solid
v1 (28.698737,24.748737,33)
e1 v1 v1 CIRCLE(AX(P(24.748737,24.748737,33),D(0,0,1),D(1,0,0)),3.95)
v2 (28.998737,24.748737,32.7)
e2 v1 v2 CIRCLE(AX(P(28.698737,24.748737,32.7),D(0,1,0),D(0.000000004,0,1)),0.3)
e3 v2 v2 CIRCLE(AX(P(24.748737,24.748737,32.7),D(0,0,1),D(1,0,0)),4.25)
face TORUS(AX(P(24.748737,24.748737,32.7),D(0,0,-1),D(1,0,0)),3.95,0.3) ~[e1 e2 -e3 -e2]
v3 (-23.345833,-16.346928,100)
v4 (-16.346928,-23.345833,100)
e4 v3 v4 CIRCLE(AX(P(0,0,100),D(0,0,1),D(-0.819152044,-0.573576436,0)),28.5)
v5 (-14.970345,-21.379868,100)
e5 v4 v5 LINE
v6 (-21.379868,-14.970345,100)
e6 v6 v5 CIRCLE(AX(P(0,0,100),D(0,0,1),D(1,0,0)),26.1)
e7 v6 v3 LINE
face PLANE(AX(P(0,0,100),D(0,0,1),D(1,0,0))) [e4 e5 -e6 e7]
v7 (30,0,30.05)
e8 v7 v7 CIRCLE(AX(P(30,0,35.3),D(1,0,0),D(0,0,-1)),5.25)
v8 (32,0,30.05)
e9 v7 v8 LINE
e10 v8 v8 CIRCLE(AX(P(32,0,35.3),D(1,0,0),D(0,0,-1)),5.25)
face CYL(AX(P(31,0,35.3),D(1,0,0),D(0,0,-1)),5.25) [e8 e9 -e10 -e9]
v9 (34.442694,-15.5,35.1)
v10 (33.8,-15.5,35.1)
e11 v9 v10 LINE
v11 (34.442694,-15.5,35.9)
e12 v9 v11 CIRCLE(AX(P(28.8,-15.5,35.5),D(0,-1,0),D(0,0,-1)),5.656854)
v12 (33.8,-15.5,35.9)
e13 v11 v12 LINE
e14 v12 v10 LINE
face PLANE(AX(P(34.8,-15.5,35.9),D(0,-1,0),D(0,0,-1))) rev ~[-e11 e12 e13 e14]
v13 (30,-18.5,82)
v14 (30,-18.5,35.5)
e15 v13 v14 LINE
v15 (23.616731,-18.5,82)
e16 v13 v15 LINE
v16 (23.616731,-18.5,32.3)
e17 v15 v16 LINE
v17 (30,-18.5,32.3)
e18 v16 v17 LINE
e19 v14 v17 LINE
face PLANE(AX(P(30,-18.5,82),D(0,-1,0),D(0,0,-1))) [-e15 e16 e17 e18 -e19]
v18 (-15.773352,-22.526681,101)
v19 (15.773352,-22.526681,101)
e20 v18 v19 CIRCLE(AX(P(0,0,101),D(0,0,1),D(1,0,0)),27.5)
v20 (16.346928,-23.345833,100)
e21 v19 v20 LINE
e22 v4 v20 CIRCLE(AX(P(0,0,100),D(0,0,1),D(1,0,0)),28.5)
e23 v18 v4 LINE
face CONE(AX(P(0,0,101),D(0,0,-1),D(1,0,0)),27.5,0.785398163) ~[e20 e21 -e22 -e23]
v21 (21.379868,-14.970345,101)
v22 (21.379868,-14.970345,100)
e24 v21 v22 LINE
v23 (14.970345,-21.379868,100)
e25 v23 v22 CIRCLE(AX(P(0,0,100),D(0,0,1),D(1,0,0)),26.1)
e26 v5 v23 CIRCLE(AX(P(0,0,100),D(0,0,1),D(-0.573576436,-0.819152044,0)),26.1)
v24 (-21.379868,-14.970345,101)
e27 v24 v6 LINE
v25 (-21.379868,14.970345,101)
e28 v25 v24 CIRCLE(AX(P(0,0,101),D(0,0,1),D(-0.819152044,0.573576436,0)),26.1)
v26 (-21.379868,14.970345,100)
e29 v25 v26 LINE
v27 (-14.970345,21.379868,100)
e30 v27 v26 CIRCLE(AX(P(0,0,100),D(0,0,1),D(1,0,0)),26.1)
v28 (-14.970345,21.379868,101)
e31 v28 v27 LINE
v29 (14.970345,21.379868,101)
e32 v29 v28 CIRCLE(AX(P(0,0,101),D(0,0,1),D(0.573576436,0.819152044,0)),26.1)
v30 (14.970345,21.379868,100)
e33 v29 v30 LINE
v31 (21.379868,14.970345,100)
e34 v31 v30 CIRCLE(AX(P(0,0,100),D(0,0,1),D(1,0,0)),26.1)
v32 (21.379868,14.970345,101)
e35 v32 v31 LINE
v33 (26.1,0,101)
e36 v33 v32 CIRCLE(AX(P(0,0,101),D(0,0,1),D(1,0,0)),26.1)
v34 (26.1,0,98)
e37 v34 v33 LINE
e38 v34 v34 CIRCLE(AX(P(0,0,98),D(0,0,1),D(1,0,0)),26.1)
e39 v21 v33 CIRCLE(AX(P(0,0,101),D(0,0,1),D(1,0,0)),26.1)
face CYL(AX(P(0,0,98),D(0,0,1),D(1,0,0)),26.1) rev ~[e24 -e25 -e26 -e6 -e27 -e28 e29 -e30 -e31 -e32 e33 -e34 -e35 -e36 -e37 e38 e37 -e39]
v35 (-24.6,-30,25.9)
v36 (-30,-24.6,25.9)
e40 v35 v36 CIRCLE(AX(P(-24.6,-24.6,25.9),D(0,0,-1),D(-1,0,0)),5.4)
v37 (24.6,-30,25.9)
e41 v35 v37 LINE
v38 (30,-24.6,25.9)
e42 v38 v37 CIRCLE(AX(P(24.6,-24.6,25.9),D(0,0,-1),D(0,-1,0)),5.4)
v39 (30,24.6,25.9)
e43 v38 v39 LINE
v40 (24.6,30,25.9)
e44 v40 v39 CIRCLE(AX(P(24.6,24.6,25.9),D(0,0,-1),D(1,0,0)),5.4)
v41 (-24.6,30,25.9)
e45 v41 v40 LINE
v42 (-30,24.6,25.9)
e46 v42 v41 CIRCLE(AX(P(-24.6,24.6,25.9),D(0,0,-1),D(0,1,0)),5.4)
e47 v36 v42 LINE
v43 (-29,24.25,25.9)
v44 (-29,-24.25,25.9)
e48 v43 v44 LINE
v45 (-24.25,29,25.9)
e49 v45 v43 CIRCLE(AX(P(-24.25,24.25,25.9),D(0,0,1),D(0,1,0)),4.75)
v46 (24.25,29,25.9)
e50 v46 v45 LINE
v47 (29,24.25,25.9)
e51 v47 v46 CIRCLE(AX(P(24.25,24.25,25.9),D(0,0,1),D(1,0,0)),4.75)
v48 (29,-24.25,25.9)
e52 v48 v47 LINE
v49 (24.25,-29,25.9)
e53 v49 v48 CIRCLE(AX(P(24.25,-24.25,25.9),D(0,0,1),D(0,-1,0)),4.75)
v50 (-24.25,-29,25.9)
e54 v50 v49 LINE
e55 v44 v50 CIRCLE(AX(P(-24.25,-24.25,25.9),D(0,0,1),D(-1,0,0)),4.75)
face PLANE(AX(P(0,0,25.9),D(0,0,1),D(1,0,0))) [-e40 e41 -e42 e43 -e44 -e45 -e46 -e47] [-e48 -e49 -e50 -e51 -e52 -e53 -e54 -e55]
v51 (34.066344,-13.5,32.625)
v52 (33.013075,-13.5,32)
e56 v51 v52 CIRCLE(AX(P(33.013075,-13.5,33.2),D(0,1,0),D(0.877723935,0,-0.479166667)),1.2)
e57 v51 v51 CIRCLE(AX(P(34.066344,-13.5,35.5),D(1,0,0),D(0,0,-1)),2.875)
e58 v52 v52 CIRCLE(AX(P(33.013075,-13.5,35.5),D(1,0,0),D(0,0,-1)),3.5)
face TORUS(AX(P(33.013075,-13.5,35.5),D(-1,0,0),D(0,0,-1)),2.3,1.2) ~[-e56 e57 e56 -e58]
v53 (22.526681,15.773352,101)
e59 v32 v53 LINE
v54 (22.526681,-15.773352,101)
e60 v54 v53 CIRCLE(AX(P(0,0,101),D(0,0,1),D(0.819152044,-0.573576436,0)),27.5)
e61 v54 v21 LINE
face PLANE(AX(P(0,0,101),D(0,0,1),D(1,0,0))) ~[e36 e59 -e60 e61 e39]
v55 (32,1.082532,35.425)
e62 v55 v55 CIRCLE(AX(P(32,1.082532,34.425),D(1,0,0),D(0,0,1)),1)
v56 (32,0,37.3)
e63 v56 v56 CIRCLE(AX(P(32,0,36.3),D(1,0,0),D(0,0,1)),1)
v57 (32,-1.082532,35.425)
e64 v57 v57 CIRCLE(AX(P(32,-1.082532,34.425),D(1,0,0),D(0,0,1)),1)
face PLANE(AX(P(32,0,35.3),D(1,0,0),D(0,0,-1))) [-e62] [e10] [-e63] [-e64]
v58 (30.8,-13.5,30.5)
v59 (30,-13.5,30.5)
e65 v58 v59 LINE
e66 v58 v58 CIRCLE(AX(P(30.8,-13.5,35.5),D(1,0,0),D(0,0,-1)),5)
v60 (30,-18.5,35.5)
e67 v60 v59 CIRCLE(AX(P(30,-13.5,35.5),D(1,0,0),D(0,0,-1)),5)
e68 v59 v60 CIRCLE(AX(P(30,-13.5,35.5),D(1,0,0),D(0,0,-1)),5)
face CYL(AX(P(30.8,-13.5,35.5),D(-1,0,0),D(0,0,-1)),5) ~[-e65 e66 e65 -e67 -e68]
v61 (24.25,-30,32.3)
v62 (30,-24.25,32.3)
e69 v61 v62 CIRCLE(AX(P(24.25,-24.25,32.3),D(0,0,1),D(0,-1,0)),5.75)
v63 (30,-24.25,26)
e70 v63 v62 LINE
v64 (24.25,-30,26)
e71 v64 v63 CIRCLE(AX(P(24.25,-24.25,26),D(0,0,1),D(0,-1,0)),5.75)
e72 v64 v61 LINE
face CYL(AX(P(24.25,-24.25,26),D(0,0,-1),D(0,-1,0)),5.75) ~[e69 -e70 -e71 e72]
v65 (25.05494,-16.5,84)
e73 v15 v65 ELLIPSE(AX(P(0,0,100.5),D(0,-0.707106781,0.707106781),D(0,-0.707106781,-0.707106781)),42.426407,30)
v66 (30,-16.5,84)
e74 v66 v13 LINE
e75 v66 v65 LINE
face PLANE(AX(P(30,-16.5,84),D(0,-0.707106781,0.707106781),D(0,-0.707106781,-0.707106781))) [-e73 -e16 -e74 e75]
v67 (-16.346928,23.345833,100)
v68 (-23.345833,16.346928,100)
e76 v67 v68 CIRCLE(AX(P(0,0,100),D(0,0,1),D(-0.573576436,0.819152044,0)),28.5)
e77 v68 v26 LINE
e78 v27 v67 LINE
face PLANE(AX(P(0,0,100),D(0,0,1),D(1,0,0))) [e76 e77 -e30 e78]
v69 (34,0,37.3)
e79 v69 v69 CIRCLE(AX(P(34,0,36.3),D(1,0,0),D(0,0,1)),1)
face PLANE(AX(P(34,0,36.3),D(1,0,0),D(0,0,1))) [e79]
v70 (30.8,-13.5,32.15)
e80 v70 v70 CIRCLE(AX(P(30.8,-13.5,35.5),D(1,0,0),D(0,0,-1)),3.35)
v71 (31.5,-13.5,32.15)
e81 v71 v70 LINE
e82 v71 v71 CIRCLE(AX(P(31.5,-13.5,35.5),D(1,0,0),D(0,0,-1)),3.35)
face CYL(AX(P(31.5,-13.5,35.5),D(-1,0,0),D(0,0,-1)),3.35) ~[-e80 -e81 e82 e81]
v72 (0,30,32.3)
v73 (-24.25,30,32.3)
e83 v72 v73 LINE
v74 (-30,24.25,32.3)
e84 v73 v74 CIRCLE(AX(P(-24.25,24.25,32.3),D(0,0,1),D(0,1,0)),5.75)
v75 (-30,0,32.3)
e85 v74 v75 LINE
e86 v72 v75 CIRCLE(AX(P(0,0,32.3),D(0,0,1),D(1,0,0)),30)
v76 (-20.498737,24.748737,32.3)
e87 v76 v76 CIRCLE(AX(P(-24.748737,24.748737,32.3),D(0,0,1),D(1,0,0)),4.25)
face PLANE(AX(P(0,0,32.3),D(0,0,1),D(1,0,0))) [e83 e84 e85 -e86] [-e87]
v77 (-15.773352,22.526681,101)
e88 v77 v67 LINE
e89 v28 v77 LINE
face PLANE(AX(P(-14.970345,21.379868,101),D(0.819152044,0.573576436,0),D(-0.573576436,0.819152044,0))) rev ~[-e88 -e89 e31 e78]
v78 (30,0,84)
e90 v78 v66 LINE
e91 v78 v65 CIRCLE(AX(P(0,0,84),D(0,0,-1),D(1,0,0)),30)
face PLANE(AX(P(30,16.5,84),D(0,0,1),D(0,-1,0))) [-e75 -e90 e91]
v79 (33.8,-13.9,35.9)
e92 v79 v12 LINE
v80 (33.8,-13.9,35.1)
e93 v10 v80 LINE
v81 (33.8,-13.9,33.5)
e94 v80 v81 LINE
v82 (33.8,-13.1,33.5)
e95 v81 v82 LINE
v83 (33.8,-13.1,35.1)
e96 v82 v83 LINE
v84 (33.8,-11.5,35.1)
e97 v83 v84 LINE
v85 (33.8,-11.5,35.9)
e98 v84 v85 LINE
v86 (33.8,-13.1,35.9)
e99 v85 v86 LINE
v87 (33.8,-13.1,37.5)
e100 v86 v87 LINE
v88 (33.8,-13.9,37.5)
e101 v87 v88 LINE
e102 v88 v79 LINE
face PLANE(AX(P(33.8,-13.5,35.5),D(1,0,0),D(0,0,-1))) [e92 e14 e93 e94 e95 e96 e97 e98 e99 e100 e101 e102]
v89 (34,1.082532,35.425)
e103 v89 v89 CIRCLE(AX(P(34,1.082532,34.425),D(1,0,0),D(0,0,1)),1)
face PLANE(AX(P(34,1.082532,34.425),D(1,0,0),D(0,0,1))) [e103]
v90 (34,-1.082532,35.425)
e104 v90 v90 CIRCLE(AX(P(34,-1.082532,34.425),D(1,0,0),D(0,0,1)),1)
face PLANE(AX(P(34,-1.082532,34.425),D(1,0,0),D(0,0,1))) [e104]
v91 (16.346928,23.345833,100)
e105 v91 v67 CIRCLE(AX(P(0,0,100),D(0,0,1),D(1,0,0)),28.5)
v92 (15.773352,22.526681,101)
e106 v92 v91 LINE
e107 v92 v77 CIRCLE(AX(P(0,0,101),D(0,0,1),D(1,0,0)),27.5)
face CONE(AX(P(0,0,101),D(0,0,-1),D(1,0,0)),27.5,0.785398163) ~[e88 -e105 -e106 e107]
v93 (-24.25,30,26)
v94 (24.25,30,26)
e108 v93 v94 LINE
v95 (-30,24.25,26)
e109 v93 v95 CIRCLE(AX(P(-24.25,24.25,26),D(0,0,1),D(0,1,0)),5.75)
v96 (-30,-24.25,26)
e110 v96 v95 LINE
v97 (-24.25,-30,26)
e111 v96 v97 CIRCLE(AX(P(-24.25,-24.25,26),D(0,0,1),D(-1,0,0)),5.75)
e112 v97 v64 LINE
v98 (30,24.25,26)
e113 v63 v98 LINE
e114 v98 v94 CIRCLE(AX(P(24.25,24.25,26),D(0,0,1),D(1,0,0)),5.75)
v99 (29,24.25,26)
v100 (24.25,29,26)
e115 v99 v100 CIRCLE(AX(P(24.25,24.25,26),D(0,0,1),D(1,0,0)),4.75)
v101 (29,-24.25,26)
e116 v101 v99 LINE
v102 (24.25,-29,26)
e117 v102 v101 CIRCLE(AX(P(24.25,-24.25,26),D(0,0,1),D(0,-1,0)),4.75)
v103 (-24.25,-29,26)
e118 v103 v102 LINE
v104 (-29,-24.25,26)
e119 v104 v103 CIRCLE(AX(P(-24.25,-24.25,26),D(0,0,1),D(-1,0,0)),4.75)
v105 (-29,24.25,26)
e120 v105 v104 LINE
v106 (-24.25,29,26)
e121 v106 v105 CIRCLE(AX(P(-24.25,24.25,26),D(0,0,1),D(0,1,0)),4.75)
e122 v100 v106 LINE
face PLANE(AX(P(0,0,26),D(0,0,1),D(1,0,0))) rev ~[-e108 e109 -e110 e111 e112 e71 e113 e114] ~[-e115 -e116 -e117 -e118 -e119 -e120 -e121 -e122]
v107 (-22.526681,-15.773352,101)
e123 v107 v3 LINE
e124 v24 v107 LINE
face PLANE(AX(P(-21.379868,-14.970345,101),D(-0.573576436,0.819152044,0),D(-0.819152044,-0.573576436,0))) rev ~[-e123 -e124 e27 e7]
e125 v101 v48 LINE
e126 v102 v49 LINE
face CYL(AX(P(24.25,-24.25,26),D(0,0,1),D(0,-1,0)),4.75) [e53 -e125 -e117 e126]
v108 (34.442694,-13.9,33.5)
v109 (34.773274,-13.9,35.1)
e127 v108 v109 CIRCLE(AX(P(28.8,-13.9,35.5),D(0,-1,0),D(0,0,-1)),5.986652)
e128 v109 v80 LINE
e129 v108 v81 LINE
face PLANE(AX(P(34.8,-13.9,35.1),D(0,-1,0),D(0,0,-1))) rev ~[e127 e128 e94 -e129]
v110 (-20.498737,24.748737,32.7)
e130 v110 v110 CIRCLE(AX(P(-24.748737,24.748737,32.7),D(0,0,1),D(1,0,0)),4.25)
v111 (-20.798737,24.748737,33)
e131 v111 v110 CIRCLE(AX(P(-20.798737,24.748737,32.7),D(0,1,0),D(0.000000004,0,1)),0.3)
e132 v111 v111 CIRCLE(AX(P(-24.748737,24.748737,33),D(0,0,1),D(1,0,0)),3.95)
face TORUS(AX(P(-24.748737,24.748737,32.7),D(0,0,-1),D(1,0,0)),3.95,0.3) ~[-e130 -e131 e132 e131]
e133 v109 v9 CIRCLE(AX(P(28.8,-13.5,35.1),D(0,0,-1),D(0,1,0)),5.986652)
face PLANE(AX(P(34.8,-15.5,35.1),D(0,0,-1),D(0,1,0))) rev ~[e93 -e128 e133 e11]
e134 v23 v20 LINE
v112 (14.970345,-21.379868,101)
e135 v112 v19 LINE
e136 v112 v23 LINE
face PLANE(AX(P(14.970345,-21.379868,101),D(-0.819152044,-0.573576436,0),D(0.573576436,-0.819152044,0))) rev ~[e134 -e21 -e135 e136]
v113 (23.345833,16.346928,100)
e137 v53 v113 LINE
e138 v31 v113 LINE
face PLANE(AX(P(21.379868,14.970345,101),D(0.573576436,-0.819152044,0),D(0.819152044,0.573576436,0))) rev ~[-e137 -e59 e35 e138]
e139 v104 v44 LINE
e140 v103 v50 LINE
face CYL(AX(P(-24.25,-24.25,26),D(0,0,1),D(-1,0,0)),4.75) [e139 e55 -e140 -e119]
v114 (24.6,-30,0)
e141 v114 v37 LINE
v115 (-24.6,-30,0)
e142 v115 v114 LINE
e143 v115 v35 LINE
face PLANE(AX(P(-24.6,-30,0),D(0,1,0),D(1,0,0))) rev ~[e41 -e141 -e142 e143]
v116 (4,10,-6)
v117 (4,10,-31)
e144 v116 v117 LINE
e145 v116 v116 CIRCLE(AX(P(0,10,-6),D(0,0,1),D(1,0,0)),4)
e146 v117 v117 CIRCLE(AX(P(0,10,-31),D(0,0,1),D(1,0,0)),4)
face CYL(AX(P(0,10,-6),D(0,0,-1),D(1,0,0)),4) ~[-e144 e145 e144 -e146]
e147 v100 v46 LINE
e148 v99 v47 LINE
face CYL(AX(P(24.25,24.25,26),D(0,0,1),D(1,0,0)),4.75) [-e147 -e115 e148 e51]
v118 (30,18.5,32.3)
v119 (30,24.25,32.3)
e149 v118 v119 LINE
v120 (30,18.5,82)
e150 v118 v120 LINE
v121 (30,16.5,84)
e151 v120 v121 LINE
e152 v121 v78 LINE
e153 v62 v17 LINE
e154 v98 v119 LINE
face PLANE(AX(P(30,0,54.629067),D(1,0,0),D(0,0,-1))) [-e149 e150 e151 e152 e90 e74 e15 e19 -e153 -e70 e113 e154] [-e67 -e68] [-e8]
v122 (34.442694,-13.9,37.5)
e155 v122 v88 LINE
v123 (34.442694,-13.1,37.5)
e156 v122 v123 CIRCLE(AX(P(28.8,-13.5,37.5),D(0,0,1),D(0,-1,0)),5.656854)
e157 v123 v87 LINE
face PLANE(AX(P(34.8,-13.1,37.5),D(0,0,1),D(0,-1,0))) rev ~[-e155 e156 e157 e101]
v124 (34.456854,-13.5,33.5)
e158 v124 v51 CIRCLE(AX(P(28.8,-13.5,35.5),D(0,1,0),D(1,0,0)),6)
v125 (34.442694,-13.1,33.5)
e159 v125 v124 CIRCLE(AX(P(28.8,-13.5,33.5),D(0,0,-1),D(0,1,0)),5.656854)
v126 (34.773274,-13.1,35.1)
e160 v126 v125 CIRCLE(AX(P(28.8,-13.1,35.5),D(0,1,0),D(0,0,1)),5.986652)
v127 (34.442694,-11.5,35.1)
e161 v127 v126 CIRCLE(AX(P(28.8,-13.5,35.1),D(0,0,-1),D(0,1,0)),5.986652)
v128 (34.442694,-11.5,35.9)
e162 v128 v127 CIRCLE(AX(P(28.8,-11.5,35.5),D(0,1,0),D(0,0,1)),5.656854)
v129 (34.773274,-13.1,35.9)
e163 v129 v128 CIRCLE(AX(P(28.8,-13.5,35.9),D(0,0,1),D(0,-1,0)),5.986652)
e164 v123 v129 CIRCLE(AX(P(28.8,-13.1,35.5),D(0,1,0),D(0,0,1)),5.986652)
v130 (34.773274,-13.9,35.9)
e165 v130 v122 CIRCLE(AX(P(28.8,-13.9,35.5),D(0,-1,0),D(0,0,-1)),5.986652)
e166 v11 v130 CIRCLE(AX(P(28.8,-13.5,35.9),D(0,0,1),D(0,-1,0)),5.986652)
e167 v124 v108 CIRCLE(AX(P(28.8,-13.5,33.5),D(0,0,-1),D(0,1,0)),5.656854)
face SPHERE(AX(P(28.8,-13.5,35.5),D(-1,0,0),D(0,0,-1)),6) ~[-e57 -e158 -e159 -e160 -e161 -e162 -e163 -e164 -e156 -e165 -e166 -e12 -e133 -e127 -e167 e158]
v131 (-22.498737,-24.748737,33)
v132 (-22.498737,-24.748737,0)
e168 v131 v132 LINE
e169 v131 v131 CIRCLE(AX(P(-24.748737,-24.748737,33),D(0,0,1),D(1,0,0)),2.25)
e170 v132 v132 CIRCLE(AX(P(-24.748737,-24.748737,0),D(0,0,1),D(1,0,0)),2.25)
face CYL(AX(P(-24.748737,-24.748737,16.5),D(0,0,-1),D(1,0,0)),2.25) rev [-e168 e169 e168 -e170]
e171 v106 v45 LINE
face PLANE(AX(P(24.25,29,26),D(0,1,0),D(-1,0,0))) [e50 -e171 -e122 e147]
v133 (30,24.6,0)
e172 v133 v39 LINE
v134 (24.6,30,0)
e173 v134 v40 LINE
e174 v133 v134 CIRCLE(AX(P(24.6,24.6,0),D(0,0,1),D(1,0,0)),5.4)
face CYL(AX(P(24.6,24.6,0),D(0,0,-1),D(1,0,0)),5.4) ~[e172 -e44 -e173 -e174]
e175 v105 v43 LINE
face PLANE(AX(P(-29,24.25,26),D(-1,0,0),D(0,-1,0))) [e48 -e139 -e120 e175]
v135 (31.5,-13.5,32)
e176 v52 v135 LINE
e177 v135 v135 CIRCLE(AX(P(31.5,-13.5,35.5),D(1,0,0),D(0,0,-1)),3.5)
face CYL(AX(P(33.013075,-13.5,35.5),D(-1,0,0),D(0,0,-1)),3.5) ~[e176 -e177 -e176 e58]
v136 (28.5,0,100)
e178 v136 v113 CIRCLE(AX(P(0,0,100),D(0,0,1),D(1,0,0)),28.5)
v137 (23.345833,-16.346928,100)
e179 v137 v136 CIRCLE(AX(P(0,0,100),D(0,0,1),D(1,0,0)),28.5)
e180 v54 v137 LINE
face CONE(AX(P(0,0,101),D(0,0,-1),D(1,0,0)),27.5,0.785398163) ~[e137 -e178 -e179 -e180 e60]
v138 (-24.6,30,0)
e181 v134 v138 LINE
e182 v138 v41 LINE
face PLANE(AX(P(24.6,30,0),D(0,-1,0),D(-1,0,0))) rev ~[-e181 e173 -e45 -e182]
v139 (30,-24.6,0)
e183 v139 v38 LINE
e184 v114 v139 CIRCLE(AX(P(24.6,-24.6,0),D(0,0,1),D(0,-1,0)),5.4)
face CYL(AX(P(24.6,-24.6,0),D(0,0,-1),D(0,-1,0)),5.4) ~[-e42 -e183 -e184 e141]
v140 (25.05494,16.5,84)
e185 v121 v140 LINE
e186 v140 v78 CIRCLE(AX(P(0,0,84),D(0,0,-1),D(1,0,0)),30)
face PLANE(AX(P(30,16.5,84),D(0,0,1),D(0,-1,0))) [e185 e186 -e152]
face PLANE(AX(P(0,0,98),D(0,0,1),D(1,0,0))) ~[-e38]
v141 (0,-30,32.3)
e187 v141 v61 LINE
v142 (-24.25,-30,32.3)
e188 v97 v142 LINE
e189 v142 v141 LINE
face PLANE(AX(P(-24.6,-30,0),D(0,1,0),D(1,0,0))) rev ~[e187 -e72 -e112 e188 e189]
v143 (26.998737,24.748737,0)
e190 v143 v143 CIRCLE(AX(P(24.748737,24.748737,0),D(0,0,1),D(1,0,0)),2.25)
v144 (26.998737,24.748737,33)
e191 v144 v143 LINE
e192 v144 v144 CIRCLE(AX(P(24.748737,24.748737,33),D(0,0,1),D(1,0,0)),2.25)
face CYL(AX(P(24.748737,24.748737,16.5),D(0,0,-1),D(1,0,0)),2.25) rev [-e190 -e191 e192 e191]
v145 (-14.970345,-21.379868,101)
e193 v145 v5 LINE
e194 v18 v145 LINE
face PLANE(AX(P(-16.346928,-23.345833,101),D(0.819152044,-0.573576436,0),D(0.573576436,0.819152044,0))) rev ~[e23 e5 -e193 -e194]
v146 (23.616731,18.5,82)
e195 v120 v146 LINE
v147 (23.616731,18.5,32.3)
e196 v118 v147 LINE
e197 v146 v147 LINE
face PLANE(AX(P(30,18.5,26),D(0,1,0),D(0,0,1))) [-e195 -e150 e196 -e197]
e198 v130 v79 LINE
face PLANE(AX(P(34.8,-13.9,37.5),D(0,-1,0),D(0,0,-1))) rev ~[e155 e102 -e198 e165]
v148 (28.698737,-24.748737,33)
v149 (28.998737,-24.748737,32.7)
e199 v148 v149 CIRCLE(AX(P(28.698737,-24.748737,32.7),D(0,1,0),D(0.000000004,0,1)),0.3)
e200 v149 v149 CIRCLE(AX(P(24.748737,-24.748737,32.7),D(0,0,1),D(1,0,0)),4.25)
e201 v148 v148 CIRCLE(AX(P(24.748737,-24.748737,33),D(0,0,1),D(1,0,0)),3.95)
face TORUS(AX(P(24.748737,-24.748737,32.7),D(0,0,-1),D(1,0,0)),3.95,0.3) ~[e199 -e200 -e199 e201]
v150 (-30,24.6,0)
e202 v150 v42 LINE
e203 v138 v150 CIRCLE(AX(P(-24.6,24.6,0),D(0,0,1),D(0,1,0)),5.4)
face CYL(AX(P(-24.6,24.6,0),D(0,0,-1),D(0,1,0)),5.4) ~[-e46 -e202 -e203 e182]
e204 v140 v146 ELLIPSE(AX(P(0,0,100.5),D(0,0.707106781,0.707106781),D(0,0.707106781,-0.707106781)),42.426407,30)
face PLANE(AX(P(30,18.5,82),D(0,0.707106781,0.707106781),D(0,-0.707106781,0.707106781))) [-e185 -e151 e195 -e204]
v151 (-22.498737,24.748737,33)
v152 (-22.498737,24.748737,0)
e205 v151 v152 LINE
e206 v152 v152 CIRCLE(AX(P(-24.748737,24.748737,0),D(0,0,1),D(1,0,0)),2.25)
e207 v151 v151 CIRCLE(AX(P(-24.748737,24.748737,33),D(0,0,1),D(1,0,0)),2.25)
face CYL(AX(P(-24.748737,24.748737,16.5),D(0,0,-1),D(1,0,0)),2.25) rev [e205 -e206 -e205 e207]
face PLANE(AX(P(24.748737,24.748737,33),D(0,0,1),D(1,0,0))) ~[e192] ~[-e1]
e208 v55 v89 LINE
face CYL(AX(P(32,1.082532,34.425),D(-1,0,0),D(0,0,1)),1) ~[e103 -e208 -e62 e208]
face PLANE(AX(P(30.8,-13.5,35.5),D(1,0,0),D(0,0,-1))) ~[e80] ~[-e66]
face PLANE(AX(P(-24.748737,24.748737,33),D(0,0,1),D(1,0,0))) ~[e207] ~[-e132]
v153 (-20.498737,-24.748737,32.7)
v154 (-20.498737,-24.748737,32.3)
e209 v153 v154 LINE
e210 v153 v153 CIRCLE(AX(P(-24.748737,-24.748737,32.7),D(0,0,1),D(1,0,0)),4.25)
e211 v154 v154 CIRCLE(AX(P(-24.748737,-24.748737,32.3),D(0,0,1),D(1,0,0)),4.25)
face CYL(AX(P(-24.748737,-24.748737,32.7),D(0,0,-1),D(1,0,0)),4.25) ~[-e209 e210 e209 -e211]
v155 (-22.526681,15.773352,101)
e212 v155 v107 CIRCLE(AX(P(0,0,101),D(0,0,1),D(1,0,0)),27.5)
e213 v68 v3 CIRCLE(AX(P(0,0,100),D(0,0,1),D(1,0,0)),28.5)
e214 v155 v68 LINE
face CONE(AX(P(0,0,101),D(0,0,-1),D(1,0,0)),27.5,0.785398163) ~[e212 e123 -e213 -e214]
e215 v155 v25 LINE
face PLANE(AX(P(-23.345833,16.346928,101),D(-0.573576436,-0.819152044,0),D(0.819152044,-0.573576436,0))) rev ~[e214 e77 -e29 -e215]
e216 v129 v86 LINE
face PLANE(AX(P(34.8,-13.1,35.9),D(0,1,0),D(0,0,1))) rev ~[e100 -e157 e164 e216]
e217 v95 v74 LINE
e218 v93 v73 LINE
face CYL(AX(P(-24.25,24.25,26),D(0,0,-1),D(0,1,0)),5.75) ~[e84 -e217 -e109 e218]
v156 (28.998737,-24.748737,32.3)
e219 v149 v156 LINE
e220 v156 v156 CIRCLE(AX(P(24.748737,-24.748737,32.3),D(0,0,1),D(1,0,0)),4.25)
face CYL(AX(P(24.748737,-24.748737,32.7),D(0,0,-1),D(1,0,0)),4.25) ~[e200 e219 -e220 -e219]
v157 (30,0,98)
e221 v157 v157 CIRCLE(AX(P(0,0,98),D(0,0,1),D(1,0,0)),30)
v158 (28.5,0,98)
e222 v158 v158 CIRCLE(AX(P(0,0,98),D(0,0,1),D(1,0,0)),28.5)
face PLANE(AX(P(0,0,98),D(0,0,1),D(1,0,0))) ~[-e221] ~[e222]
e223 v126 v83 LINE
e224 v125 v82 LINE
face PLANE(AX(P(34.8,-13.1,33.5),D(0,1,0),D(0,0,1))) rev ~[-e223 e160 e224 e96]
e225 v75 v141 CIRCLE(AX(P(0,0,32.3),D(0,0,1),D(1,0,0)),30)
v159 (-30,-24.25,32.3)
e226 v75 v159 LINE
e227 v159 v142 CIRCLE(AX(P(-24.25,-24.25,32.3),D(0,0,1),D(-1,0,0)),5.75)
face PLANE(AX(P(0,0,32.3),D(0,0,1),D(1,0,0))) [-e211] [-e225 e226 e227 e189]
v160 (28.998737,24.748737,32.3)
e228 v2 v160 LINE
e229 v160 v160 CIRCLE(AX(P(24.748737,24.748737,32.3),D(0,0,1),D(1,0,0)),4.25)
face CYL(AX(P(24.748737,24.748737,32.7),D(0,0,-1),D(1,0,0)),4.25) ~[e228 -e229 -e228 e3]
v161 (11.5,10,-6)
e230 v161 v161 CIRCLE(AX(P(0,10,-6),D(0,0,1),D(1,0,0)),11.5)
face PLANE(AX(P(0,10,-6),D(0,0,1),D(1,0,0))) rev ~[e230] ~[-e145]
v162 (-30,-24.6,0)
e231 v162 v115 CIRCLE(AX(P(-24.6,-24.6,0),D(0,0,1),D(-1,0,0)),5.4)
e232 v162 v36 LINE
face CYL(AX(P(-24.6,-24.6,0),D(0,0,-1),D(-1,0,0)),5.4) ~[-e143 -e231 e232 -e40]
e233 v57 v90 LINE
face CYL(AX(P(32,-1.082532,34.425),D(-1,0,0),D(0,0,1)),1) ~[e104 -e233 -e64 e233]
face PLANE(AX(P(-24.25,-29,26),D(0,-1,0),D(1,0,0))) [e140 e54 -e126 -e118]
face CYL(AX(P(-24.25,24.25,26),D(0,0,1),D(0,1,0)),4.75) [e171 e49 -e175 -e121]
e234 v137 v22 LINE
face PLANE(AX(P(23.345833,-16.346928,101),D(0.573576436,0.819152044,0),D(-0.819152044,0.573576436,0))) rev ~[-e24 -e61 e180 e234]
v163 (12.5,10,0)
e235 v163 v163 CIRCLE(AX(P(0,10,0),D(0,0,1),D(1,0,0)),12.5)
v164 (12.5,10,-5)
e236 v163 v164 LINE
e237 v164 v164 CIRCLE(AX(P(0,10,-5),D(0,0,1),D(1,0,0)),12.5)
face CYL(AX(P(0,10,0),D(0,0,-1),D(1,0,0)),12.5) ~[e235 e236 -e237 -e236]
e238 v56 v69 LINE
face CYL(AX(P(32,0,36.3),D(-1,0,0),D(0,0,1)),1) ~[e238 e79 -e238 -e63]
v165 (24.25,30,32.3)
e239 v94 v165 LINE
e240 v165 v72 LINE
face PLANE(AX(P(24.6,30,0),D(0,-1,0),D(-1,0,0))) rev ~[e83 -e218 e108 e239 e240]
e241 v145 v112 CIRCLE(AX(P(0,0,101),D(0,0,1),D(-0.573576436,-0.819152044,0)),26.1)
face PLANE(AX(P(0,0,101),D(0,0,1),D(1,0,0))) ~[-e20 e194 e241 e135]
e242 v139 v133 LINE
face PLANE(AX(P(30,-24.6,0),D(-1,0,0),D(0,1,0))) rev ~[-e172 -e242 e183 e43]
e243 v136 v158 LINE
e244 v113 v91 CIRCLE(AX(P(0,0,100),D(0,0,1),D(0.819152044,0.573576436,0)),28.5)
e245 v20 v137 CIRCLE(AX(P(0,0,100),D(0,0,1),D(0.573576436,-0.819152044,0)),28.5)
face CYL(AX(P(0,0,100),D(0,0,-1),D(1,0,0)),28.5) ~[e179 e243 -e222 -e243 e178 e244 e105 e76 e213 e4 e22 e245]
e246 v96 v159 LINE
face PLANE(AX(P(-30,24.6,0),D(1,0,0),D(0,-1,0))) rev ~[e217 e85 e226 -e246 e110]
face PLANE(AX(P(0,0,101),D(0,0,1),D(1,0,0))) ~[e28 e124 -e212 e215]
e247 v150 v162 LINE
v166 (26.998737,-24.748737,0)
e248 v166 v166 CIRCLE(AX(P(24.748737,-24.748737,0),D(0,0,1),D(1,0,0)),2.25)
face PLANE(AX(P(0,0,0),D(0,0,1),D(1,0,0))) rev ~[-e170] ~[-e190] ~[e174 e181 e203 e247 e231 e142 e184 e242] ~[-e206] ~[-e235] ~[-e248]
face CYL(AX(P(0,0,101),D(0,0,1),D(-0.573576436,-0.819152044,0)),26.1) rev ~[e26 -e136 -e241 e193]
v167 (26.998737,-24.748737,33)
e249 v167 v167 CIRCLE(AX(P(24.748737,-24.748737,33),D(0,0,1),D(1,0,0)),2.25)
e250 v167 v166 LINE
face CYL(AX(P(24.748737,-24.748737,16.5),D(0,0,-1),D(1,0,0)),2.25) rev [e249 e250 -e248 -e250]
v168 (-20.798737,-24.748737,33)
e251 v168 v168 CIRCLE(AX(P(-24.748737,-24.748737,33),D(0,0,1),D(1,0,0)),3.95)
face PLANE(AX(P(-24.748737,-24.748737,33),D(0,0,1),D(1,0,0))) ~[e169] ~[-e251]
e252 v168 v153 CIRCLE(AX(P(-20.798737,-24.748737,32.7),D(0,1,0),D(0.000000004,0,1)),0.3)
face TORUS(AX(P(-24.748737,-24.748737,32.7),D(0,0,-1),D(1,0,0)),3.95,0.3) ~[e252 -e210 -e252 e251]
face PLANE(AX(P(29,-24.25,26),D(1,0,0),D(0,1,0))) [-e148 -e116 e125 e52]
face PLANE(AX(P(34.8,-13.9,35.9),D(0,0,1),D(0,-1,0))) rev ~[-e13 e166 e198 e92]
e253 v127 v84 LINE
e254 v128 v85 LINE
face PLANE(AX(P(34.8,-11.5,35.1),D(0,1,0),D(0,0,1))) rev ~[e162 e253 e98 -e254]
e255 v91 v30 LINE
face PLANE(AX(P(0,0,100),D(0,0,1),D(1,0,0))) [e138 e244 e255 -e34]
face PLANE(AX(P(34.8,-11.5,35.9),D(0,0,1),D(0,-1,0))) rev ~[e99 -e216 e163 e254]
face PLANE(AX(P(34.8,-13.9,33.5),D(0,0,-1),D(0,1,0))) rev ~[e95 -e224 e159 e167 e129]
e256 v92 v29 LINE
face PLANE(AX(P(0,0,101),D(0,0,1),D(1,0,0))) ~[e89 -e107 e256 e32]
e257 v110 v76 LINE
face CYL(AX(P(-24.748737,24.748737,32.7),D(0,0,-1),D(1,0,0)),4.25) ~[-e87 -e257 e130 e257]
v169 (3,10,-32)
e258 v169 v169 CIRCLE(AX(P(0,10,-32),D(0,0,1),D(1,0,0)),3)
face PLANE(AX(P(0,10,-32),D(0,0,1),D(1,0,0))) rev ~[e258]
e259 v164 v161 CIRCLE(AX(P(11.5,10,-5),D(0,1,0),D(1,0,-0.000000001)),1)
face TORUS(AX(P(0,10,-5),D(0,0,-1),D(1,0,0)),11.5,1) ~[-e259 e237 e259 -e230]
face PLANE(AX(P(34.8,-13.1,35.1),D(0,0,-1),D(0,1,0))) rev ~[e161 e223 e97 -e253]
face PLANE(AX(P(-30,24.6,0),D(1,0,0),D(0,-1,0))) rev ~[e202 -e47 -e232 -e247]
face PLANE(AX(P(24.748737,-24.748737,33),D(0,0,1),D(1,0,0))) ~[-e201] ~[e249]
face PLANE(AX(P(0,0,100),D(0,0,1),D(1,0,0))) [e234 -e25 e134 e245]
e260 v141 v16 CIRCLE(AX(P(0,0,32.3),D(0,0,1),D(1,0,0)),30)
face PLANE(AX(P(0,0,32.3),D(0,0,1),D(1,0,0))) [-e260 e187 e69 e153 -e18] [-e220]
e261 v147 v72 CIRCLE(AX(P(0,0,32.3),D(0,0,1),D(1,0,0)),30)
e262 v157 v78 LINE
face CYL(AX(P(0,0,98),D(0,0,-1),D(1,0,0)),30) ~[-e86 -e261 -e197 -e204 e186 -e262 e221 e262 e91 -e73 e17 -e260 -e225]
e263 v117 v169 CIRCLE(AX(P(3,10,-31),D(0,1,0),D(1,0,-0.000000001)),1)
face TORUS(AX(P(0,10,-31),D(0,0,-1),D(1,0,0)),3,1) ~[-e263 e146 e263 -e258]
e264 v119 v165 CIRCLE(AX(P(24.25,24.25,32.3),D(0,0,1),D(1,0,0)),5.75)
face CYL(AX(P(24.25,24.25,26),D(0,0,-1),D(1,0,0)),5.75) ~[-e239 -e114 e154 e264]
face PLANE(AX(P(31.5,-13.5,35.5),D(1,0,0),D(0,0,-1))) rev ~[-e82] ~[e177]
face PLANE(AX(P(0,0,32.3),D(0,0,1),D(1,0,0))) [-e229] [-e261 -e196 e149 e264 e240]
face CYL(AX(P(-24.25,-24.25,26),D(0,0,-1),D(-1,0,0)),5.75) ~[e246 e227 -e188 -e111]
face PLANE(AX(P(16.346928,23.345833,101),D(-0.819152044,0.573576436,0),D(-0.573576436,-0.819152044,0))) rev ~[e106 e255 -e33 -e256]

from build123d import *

# Parameters (mm, degrees)
EXTRUDE_1_DEPTH             = 26
EXTRUDE_2_DEPTH             = 6.3
SKETCH_4_W                  = 60
SKETCH_4_H                  = 60
CUT_EXTRUDE_1_DEPTH         = 0.1
CUT_EXTRUDE_2_DEPTH         = 1
EXTRUDE_3_DEPTH             = 30
PATTERN_LINEAR_1_COUNT      = 2
PATTERN_LINEAR_1_PITCH      = 49.497474683
PATTERN_LINEAR_1_COUNT_DIR2 = 2
PATTERN_LINEAR_1_PITCH_DIR2 = 49.497474683
SKETCH_10_W                 = 2
SKETCH_10_H                 = 5.25
SKETCH_11_R                 = 1
EXTRUDE_4_DEPTH             = 2
SKETCH_12_R                 = 1
EXTRUDE_5_DEPTH             = 2
SKETCH_13_R                 = 1
EXTRUDE_6_DEPTH             = 2
CUT_EXTRUDE_3_DEPTH         = 1
SKETCH_16_W                 = 33
SKETCH_16_H                 = 2.25
PATTERN_LINEAR_2_COUNT      = 2
PATTERN_LINEAR_2_PITCH      = 49.497474683
PATTERN_LINEAR_2_COUNT_DIR2 = 2
PATTERN_LINEAR_2_PITCH_DIR2 = 49.497474683


with BuildPart() as part:
    # 草图1 → 凸台-拉伸1 (new body)
    with BuildSketch(Plane.XY):
        with BuildLine():
            Line((-30, 24.6), (-30, -24.6))
            ThreePointArc((-30, -24.6), (-28.418376618, -28.418376618), (-24.6, -30))
            Line((-24.6, -30), (24.6, -30))
            ThreePointArc((24.6, -30), (28.418376618, -28.418376618), (30, -24.6))
            Line((30, -24.6), (30, 24.6))
            ThreePointArc((30, 24.6), (28.418376618, 28.418376618), (24.6, 30))
            Line((24.6, 30), (-24.6, 30))
            ThreePointArc((-24.6, 30), (-28.418376618, 28.418376618), (-30, 24.6))
        make_face()
    extrude(amount=EXTRUDE_1_DEPTH)

    # 草图2 → 旋转1 (revolve)
    with BuildSketch(Plane(origin=(0, 0, 0), x_dir=(0, 0, -1), z_dir=(1, 0, 0))):
        with BuildLine():
            Line((0, 10), (0, 22.5))
            Line((0, 22.5), (5, 22.5))
            ThreePointArc((5, 22.5), (5.707106781, 22.207106781), (6, 21.5))
            Line((6, 21.5), (6, 14))
            Line((6, 14), (31, 14))
            ThreePointArc((31, 14), (31.707106781, 13.707106781), (32, 13))
            Line((32, 13), (32, 10))
            Line((32, 10), (0, 10))
        make_face()
    revolve(axis=Axis((0, 10, -32), (0, 0, 1)))

    # 草图3 → 凸台-拉伸2 (add)
    with BuildSketch(Plane.XY.offset(26)):
        with BuildLine():
            Line((-30, 24.25), (-30, -24.25))
            ThreePointArc((-30, -24.25), (-28.315863992, -28.315863992), (-24.25, -30))
            Line((-24.25, -30), (24.25, -30))
            ThreePointArc((24.25, -30), (28.315863992, -28.315863992), (30, -24.25))
            Line((30, -24.25), (30, 24.25))
            ThreePointArc((30, 24.25), (28.315863992, 28.315863992), (24.25, 30))
            Line((24.25, 30), (-24.25, 30))
            ThreePointArc((-24.25, 30), (-28.315863992, 28.315863992), (-30, 24.25))
        make_face()
    extrude(amount=EXTRUDE_2_DEPTH)

    # 草图4 → 切除-拉伸1 (cut)
    with BuildSketch(Plane.XY.offset(26)):
        Rectangle(SKETCH_4_W, SKETCH_4_H)
        with BuildLine():
            Line((-29, 24.25), (-29, -24.25))
            ThreePointArc((-29, -24.25), (-27.608757211, -27.608757211), (-24.25, -29))
            Line((-24.25, -29), (24.25, -29))
            ThreePointArc((24.25, -29), (27.608757211, -27.608757211), (29, -24.25))
            Line((29, -24.25), (29, 24.25))
            ThreePointArc((29, 24.25), (27.608757211, 27.608757211), (24.25, 29))
            Line((24.25, 29), (-24.25, 29))
            ThreePointArc((-24.25, 29), (-27.608757211, 27.608757211), (-29, 24.25))
        make_face(mode=Mode.SUBTRACT)
    extrude(amount=-CUT_EXTRUDE_1_DEPTH, mode=Mode.SUBTRACT)

    # 草图5 → 旋转2 (revolve)
    with BuildSketch(Plane(origin=(0, 0, 0), x_dir=(0, 0, -1), z_dir=(1, 0, 0))):
        Polygon((-98, 0), (-98, 26.1), (-101, 26.1), (-101, 27.5), (-100, 28.5), (-98, 28.5), (-98, 30), (-32.3, 30), (-32.3, 0), align=None)
    revolve(axis=Axis((0, 0, 32.3), (0, 0, 1)))

    # 草图6 → 切除-拉伸2 (cut)
    with BuildSketch(Plane.XY.offset(101)):
        with BuildLine():
            Line((-21.379868356, -14.970344989), (-23.345833262, -16.346928436))
            ThreePointArc((-23.345833262, -16.346928436), (-20.152543264, -20.152543264), (-16.346928436, -23.345833262))
            Line((-16.346928436, -23.345833262), (-14.970344989, -21.379868356))
            ThreePointArc((-14.970344989, -21.379868356), (0, -26.1), (14.970344989, -21.379868356))
            Line((14.970344989, -21.379868356), (16.346928436, -23.345833262))
            ThreePointArc((16.346928436, -23.345833262), (20.152543264, -20.152543264), (23.345833262, -16.346928436))
            Line((23.345833262, -16.346928436), (21.379868356, -14.970344989))
            ThreePointArc((21.379868356, -14.970344989), (26.1, 0), (21.379868356, 14.970344989))
            Line((21.379868356, 14.970344989), (23.345833262, 16.346928436))
            ThreePointArc((23.345833262, 16.346928436), (20.152543264, 20.152543264), (16.346928436, 23.345833262))
            Line((16.346928436, 23.345833262), (14.970344989, 21.379868356))
            ThreePointArc((14.970344989, 21.379868356), (0, 26.1), (-14.970344989, 21.379868356))
            Line((-14.970344989, 21.379868356), (-16.346928436, 23.345833262))
            ThreePointArc((-16.346928436, 23.345833262), (-20.152543264, 20.152543264), (-23.345833262, 16.346928436))
            Line((-23.345833262, 16.346928436), (-21.379868356, 14.970344989))
            ThreePointArc((-21.379868356, 14.970344989), (-26.1, 0), (-21.379868356, -14.970344989))
        make_face()
    extrude(amount=-CUT_EXTRUDE_2_DEPTH, mode=Mode.SUBTRACT)

    # 草图7 → 凸台-拉伸3 (add)
    with BuildSketch(Plane(origin=(30, 0, 0), x_dir=(0, 0, -1), z_dir=(1, 0, 0))):
        Polygon((-84, -16.5), (-82, -18.5), (-26, -18.5), (-26, 18.5), (-82, 18.5), (-84, 16.5), align=None)
    extrude(amount=-EXTRUDE_3_DEPTH)

    # 草图8 → 旋转3 (revolve)
    with BuildSketch(Plane(origin=(0, 0, 0), x_dir=(0, 0, -1), z_dir=(0.7071067811865476, 0.7071067811865475, 0))):
        with BuildLine():
            Line((-33, -35), (-33, -31.05))
            ThreePointArc((-33, -31.05), (-32.912132034, -30.837867966), (-32.7, -30.75))
            Line((-32.7, -30.75), (-32.3, -30.75))
            Line((-32.3, -30.75), (-32.3, -35))
            Line((-32.3, -35), (-33, -35))
        make_face()
    revolve_3 = revolve(axis=Axis((24.748737342, -24.748737342, 32.3), (0, 0, 1)))

    # 阵列(线性)1: Revolve 3 2 × 2
    with Locations(*[(-j * PATTERN_LINEAR_1_PITCH_DIR2, i * PATTERN_LINEAR_1_PITCH, 0) for i in range(PATTERN_LINEAR_1_COUNT) for j in range(PATTERN_LINEAR_1_COUNT_DIR2) if (i, j) != (0, 0)]):
        add(revolve_3)

    # 草图10 → 旋转4 (revolve)
    with BuildSketch(Plane(origin=(0, 0, 0), x_dir=(1, 0, 0), z_dir=(0, 1, 0))):
        with Locations((31, -37.925)):
            Rectangle(SKETCH_10_W, SKETCH_10_H)
    revolve(axis=Axis((30, 0, 35.3), (1, 0, 0)))

    # 草图11 → 凸台-拉伸4 (add)
    with BuildSketch(Plane(origin=(32, 0, 0), x_dir=(0, 0, -1), z_dir=(1, 0, 0))):
        with Locations((-36.3, 0)):
            Circle(SKETCH_11_R)
    extrude(amount=EXTRUDE_4_DEPTH)

    # 草图12 → 凸台-拉伸5 (add)
    with BuildSketch(Plane(origin=(32, 0, 0), x_dir=(0, 0, -1), z_dir=(1, 0, 0))):
        with Locations((-34.425, -1.082531755)):
            Circle(SKETCH_12_R)
    extrude(amount=EXTRUDE_5_DEPTH)

    # 草图13 → 凸台-拉伸6 (add)
    with BuildSketch(Plane(origin=(32, 0, 0), x_dir=(0, 0, -1), z_dir=(1, 0, 0))):
        with Locations((-34.425, 1.082531755)):
            Circle(SKETCH_13_R)
    extrude(amount=EXTRUDE_6_DEPTH)

    # 草图14 → 旋转5 (revolve)
    with BuildSketch(Plane(origin=(0, -13.5, 0), x_dir=(1, 0, 0), z_dir=(0, 1, 0))):
        with BuildLine():
            Line((33.013074887, -39), (31.5, -39))
            Line((31.5, -39), (31.5, -38.85))
            Line((31.5, -38.85), (30.8, -38.85))
            Line((30.8, -38.85), (30.8, -40.5))
            Line((30.8, -40.5), (30, -40.5))
            Line((30, -40.5), (30, -35.5))
            Line((30, -35.5), (34.8, -35.5))
            ThreePointArc((34.8, -35.5), (34.613693389, -36.98356637), (34.066343608, -38.375))
            ThreePointArc((34.066343608, -38.375), (33.625447322, -38.831988372), (33.013074887, -39))
        make_face()
    revolve(axis=Axis((30, -13.5, 35.5), (1, 0, 0)))

    # 草图15 → 切除-拉伸3 (cut)
    with BuildSketch(Plane(origin=(34.8, 0, 0), x_dir=(0, 0, -1), z_dir=(1, 0, 0))):
        Polygon((-37.5, -13.1), (-37.5, -13.9), (-35.9, -13.9), (-35.9, -15.5), (-35.1, -15.5), (-35.1, -13.9), (-33.5, -13.9), (-33.5, -13.1), (-35.1, -13.1), (-35.1, -11.5), (-35.9, -11.5), (-35.9, -13.1), align=None)
    extrude(amount=-CUT_EXTRUDE_3_DEPTH, mode=Mode.SUBTRACT)

    # 草图16 → 切除-旋转1 (revolve, cut)
    with BuildSketch(Plane(origin=(0, 0, 0), x_dir=(0, 0, -1), z_dir=(0.7071067811865476, 0.7071067811865475, 0))):
        with Locations((-16.5, -33.875)):
            Rectangle(SKETCH_16_W, SKETCH_16_H)
    cut_revolve_1 = revolve(axis=Axis((24.748737342, -24.748737342, 0), (0, 0, 1)), mode=Mode.SUBTRACT)

    # 阵列(线性)2: Cut-Revolve 1 2 × 2
    with Locations(*[(-j * PATTERN_LINEAR_2_PITCH_DIR2, i * PATTERN_LINEAR_2_PITCH, 0) for i in range(PATTERN_LINEAR_2_COUNT) for j in range(PATTERN_LINEAR_2_COUNT_DIR2) if (i, j) != (0, 0)]):
        add(cut_revolve_1, mode=Mode.SUBTRACT)


solid = part.part
